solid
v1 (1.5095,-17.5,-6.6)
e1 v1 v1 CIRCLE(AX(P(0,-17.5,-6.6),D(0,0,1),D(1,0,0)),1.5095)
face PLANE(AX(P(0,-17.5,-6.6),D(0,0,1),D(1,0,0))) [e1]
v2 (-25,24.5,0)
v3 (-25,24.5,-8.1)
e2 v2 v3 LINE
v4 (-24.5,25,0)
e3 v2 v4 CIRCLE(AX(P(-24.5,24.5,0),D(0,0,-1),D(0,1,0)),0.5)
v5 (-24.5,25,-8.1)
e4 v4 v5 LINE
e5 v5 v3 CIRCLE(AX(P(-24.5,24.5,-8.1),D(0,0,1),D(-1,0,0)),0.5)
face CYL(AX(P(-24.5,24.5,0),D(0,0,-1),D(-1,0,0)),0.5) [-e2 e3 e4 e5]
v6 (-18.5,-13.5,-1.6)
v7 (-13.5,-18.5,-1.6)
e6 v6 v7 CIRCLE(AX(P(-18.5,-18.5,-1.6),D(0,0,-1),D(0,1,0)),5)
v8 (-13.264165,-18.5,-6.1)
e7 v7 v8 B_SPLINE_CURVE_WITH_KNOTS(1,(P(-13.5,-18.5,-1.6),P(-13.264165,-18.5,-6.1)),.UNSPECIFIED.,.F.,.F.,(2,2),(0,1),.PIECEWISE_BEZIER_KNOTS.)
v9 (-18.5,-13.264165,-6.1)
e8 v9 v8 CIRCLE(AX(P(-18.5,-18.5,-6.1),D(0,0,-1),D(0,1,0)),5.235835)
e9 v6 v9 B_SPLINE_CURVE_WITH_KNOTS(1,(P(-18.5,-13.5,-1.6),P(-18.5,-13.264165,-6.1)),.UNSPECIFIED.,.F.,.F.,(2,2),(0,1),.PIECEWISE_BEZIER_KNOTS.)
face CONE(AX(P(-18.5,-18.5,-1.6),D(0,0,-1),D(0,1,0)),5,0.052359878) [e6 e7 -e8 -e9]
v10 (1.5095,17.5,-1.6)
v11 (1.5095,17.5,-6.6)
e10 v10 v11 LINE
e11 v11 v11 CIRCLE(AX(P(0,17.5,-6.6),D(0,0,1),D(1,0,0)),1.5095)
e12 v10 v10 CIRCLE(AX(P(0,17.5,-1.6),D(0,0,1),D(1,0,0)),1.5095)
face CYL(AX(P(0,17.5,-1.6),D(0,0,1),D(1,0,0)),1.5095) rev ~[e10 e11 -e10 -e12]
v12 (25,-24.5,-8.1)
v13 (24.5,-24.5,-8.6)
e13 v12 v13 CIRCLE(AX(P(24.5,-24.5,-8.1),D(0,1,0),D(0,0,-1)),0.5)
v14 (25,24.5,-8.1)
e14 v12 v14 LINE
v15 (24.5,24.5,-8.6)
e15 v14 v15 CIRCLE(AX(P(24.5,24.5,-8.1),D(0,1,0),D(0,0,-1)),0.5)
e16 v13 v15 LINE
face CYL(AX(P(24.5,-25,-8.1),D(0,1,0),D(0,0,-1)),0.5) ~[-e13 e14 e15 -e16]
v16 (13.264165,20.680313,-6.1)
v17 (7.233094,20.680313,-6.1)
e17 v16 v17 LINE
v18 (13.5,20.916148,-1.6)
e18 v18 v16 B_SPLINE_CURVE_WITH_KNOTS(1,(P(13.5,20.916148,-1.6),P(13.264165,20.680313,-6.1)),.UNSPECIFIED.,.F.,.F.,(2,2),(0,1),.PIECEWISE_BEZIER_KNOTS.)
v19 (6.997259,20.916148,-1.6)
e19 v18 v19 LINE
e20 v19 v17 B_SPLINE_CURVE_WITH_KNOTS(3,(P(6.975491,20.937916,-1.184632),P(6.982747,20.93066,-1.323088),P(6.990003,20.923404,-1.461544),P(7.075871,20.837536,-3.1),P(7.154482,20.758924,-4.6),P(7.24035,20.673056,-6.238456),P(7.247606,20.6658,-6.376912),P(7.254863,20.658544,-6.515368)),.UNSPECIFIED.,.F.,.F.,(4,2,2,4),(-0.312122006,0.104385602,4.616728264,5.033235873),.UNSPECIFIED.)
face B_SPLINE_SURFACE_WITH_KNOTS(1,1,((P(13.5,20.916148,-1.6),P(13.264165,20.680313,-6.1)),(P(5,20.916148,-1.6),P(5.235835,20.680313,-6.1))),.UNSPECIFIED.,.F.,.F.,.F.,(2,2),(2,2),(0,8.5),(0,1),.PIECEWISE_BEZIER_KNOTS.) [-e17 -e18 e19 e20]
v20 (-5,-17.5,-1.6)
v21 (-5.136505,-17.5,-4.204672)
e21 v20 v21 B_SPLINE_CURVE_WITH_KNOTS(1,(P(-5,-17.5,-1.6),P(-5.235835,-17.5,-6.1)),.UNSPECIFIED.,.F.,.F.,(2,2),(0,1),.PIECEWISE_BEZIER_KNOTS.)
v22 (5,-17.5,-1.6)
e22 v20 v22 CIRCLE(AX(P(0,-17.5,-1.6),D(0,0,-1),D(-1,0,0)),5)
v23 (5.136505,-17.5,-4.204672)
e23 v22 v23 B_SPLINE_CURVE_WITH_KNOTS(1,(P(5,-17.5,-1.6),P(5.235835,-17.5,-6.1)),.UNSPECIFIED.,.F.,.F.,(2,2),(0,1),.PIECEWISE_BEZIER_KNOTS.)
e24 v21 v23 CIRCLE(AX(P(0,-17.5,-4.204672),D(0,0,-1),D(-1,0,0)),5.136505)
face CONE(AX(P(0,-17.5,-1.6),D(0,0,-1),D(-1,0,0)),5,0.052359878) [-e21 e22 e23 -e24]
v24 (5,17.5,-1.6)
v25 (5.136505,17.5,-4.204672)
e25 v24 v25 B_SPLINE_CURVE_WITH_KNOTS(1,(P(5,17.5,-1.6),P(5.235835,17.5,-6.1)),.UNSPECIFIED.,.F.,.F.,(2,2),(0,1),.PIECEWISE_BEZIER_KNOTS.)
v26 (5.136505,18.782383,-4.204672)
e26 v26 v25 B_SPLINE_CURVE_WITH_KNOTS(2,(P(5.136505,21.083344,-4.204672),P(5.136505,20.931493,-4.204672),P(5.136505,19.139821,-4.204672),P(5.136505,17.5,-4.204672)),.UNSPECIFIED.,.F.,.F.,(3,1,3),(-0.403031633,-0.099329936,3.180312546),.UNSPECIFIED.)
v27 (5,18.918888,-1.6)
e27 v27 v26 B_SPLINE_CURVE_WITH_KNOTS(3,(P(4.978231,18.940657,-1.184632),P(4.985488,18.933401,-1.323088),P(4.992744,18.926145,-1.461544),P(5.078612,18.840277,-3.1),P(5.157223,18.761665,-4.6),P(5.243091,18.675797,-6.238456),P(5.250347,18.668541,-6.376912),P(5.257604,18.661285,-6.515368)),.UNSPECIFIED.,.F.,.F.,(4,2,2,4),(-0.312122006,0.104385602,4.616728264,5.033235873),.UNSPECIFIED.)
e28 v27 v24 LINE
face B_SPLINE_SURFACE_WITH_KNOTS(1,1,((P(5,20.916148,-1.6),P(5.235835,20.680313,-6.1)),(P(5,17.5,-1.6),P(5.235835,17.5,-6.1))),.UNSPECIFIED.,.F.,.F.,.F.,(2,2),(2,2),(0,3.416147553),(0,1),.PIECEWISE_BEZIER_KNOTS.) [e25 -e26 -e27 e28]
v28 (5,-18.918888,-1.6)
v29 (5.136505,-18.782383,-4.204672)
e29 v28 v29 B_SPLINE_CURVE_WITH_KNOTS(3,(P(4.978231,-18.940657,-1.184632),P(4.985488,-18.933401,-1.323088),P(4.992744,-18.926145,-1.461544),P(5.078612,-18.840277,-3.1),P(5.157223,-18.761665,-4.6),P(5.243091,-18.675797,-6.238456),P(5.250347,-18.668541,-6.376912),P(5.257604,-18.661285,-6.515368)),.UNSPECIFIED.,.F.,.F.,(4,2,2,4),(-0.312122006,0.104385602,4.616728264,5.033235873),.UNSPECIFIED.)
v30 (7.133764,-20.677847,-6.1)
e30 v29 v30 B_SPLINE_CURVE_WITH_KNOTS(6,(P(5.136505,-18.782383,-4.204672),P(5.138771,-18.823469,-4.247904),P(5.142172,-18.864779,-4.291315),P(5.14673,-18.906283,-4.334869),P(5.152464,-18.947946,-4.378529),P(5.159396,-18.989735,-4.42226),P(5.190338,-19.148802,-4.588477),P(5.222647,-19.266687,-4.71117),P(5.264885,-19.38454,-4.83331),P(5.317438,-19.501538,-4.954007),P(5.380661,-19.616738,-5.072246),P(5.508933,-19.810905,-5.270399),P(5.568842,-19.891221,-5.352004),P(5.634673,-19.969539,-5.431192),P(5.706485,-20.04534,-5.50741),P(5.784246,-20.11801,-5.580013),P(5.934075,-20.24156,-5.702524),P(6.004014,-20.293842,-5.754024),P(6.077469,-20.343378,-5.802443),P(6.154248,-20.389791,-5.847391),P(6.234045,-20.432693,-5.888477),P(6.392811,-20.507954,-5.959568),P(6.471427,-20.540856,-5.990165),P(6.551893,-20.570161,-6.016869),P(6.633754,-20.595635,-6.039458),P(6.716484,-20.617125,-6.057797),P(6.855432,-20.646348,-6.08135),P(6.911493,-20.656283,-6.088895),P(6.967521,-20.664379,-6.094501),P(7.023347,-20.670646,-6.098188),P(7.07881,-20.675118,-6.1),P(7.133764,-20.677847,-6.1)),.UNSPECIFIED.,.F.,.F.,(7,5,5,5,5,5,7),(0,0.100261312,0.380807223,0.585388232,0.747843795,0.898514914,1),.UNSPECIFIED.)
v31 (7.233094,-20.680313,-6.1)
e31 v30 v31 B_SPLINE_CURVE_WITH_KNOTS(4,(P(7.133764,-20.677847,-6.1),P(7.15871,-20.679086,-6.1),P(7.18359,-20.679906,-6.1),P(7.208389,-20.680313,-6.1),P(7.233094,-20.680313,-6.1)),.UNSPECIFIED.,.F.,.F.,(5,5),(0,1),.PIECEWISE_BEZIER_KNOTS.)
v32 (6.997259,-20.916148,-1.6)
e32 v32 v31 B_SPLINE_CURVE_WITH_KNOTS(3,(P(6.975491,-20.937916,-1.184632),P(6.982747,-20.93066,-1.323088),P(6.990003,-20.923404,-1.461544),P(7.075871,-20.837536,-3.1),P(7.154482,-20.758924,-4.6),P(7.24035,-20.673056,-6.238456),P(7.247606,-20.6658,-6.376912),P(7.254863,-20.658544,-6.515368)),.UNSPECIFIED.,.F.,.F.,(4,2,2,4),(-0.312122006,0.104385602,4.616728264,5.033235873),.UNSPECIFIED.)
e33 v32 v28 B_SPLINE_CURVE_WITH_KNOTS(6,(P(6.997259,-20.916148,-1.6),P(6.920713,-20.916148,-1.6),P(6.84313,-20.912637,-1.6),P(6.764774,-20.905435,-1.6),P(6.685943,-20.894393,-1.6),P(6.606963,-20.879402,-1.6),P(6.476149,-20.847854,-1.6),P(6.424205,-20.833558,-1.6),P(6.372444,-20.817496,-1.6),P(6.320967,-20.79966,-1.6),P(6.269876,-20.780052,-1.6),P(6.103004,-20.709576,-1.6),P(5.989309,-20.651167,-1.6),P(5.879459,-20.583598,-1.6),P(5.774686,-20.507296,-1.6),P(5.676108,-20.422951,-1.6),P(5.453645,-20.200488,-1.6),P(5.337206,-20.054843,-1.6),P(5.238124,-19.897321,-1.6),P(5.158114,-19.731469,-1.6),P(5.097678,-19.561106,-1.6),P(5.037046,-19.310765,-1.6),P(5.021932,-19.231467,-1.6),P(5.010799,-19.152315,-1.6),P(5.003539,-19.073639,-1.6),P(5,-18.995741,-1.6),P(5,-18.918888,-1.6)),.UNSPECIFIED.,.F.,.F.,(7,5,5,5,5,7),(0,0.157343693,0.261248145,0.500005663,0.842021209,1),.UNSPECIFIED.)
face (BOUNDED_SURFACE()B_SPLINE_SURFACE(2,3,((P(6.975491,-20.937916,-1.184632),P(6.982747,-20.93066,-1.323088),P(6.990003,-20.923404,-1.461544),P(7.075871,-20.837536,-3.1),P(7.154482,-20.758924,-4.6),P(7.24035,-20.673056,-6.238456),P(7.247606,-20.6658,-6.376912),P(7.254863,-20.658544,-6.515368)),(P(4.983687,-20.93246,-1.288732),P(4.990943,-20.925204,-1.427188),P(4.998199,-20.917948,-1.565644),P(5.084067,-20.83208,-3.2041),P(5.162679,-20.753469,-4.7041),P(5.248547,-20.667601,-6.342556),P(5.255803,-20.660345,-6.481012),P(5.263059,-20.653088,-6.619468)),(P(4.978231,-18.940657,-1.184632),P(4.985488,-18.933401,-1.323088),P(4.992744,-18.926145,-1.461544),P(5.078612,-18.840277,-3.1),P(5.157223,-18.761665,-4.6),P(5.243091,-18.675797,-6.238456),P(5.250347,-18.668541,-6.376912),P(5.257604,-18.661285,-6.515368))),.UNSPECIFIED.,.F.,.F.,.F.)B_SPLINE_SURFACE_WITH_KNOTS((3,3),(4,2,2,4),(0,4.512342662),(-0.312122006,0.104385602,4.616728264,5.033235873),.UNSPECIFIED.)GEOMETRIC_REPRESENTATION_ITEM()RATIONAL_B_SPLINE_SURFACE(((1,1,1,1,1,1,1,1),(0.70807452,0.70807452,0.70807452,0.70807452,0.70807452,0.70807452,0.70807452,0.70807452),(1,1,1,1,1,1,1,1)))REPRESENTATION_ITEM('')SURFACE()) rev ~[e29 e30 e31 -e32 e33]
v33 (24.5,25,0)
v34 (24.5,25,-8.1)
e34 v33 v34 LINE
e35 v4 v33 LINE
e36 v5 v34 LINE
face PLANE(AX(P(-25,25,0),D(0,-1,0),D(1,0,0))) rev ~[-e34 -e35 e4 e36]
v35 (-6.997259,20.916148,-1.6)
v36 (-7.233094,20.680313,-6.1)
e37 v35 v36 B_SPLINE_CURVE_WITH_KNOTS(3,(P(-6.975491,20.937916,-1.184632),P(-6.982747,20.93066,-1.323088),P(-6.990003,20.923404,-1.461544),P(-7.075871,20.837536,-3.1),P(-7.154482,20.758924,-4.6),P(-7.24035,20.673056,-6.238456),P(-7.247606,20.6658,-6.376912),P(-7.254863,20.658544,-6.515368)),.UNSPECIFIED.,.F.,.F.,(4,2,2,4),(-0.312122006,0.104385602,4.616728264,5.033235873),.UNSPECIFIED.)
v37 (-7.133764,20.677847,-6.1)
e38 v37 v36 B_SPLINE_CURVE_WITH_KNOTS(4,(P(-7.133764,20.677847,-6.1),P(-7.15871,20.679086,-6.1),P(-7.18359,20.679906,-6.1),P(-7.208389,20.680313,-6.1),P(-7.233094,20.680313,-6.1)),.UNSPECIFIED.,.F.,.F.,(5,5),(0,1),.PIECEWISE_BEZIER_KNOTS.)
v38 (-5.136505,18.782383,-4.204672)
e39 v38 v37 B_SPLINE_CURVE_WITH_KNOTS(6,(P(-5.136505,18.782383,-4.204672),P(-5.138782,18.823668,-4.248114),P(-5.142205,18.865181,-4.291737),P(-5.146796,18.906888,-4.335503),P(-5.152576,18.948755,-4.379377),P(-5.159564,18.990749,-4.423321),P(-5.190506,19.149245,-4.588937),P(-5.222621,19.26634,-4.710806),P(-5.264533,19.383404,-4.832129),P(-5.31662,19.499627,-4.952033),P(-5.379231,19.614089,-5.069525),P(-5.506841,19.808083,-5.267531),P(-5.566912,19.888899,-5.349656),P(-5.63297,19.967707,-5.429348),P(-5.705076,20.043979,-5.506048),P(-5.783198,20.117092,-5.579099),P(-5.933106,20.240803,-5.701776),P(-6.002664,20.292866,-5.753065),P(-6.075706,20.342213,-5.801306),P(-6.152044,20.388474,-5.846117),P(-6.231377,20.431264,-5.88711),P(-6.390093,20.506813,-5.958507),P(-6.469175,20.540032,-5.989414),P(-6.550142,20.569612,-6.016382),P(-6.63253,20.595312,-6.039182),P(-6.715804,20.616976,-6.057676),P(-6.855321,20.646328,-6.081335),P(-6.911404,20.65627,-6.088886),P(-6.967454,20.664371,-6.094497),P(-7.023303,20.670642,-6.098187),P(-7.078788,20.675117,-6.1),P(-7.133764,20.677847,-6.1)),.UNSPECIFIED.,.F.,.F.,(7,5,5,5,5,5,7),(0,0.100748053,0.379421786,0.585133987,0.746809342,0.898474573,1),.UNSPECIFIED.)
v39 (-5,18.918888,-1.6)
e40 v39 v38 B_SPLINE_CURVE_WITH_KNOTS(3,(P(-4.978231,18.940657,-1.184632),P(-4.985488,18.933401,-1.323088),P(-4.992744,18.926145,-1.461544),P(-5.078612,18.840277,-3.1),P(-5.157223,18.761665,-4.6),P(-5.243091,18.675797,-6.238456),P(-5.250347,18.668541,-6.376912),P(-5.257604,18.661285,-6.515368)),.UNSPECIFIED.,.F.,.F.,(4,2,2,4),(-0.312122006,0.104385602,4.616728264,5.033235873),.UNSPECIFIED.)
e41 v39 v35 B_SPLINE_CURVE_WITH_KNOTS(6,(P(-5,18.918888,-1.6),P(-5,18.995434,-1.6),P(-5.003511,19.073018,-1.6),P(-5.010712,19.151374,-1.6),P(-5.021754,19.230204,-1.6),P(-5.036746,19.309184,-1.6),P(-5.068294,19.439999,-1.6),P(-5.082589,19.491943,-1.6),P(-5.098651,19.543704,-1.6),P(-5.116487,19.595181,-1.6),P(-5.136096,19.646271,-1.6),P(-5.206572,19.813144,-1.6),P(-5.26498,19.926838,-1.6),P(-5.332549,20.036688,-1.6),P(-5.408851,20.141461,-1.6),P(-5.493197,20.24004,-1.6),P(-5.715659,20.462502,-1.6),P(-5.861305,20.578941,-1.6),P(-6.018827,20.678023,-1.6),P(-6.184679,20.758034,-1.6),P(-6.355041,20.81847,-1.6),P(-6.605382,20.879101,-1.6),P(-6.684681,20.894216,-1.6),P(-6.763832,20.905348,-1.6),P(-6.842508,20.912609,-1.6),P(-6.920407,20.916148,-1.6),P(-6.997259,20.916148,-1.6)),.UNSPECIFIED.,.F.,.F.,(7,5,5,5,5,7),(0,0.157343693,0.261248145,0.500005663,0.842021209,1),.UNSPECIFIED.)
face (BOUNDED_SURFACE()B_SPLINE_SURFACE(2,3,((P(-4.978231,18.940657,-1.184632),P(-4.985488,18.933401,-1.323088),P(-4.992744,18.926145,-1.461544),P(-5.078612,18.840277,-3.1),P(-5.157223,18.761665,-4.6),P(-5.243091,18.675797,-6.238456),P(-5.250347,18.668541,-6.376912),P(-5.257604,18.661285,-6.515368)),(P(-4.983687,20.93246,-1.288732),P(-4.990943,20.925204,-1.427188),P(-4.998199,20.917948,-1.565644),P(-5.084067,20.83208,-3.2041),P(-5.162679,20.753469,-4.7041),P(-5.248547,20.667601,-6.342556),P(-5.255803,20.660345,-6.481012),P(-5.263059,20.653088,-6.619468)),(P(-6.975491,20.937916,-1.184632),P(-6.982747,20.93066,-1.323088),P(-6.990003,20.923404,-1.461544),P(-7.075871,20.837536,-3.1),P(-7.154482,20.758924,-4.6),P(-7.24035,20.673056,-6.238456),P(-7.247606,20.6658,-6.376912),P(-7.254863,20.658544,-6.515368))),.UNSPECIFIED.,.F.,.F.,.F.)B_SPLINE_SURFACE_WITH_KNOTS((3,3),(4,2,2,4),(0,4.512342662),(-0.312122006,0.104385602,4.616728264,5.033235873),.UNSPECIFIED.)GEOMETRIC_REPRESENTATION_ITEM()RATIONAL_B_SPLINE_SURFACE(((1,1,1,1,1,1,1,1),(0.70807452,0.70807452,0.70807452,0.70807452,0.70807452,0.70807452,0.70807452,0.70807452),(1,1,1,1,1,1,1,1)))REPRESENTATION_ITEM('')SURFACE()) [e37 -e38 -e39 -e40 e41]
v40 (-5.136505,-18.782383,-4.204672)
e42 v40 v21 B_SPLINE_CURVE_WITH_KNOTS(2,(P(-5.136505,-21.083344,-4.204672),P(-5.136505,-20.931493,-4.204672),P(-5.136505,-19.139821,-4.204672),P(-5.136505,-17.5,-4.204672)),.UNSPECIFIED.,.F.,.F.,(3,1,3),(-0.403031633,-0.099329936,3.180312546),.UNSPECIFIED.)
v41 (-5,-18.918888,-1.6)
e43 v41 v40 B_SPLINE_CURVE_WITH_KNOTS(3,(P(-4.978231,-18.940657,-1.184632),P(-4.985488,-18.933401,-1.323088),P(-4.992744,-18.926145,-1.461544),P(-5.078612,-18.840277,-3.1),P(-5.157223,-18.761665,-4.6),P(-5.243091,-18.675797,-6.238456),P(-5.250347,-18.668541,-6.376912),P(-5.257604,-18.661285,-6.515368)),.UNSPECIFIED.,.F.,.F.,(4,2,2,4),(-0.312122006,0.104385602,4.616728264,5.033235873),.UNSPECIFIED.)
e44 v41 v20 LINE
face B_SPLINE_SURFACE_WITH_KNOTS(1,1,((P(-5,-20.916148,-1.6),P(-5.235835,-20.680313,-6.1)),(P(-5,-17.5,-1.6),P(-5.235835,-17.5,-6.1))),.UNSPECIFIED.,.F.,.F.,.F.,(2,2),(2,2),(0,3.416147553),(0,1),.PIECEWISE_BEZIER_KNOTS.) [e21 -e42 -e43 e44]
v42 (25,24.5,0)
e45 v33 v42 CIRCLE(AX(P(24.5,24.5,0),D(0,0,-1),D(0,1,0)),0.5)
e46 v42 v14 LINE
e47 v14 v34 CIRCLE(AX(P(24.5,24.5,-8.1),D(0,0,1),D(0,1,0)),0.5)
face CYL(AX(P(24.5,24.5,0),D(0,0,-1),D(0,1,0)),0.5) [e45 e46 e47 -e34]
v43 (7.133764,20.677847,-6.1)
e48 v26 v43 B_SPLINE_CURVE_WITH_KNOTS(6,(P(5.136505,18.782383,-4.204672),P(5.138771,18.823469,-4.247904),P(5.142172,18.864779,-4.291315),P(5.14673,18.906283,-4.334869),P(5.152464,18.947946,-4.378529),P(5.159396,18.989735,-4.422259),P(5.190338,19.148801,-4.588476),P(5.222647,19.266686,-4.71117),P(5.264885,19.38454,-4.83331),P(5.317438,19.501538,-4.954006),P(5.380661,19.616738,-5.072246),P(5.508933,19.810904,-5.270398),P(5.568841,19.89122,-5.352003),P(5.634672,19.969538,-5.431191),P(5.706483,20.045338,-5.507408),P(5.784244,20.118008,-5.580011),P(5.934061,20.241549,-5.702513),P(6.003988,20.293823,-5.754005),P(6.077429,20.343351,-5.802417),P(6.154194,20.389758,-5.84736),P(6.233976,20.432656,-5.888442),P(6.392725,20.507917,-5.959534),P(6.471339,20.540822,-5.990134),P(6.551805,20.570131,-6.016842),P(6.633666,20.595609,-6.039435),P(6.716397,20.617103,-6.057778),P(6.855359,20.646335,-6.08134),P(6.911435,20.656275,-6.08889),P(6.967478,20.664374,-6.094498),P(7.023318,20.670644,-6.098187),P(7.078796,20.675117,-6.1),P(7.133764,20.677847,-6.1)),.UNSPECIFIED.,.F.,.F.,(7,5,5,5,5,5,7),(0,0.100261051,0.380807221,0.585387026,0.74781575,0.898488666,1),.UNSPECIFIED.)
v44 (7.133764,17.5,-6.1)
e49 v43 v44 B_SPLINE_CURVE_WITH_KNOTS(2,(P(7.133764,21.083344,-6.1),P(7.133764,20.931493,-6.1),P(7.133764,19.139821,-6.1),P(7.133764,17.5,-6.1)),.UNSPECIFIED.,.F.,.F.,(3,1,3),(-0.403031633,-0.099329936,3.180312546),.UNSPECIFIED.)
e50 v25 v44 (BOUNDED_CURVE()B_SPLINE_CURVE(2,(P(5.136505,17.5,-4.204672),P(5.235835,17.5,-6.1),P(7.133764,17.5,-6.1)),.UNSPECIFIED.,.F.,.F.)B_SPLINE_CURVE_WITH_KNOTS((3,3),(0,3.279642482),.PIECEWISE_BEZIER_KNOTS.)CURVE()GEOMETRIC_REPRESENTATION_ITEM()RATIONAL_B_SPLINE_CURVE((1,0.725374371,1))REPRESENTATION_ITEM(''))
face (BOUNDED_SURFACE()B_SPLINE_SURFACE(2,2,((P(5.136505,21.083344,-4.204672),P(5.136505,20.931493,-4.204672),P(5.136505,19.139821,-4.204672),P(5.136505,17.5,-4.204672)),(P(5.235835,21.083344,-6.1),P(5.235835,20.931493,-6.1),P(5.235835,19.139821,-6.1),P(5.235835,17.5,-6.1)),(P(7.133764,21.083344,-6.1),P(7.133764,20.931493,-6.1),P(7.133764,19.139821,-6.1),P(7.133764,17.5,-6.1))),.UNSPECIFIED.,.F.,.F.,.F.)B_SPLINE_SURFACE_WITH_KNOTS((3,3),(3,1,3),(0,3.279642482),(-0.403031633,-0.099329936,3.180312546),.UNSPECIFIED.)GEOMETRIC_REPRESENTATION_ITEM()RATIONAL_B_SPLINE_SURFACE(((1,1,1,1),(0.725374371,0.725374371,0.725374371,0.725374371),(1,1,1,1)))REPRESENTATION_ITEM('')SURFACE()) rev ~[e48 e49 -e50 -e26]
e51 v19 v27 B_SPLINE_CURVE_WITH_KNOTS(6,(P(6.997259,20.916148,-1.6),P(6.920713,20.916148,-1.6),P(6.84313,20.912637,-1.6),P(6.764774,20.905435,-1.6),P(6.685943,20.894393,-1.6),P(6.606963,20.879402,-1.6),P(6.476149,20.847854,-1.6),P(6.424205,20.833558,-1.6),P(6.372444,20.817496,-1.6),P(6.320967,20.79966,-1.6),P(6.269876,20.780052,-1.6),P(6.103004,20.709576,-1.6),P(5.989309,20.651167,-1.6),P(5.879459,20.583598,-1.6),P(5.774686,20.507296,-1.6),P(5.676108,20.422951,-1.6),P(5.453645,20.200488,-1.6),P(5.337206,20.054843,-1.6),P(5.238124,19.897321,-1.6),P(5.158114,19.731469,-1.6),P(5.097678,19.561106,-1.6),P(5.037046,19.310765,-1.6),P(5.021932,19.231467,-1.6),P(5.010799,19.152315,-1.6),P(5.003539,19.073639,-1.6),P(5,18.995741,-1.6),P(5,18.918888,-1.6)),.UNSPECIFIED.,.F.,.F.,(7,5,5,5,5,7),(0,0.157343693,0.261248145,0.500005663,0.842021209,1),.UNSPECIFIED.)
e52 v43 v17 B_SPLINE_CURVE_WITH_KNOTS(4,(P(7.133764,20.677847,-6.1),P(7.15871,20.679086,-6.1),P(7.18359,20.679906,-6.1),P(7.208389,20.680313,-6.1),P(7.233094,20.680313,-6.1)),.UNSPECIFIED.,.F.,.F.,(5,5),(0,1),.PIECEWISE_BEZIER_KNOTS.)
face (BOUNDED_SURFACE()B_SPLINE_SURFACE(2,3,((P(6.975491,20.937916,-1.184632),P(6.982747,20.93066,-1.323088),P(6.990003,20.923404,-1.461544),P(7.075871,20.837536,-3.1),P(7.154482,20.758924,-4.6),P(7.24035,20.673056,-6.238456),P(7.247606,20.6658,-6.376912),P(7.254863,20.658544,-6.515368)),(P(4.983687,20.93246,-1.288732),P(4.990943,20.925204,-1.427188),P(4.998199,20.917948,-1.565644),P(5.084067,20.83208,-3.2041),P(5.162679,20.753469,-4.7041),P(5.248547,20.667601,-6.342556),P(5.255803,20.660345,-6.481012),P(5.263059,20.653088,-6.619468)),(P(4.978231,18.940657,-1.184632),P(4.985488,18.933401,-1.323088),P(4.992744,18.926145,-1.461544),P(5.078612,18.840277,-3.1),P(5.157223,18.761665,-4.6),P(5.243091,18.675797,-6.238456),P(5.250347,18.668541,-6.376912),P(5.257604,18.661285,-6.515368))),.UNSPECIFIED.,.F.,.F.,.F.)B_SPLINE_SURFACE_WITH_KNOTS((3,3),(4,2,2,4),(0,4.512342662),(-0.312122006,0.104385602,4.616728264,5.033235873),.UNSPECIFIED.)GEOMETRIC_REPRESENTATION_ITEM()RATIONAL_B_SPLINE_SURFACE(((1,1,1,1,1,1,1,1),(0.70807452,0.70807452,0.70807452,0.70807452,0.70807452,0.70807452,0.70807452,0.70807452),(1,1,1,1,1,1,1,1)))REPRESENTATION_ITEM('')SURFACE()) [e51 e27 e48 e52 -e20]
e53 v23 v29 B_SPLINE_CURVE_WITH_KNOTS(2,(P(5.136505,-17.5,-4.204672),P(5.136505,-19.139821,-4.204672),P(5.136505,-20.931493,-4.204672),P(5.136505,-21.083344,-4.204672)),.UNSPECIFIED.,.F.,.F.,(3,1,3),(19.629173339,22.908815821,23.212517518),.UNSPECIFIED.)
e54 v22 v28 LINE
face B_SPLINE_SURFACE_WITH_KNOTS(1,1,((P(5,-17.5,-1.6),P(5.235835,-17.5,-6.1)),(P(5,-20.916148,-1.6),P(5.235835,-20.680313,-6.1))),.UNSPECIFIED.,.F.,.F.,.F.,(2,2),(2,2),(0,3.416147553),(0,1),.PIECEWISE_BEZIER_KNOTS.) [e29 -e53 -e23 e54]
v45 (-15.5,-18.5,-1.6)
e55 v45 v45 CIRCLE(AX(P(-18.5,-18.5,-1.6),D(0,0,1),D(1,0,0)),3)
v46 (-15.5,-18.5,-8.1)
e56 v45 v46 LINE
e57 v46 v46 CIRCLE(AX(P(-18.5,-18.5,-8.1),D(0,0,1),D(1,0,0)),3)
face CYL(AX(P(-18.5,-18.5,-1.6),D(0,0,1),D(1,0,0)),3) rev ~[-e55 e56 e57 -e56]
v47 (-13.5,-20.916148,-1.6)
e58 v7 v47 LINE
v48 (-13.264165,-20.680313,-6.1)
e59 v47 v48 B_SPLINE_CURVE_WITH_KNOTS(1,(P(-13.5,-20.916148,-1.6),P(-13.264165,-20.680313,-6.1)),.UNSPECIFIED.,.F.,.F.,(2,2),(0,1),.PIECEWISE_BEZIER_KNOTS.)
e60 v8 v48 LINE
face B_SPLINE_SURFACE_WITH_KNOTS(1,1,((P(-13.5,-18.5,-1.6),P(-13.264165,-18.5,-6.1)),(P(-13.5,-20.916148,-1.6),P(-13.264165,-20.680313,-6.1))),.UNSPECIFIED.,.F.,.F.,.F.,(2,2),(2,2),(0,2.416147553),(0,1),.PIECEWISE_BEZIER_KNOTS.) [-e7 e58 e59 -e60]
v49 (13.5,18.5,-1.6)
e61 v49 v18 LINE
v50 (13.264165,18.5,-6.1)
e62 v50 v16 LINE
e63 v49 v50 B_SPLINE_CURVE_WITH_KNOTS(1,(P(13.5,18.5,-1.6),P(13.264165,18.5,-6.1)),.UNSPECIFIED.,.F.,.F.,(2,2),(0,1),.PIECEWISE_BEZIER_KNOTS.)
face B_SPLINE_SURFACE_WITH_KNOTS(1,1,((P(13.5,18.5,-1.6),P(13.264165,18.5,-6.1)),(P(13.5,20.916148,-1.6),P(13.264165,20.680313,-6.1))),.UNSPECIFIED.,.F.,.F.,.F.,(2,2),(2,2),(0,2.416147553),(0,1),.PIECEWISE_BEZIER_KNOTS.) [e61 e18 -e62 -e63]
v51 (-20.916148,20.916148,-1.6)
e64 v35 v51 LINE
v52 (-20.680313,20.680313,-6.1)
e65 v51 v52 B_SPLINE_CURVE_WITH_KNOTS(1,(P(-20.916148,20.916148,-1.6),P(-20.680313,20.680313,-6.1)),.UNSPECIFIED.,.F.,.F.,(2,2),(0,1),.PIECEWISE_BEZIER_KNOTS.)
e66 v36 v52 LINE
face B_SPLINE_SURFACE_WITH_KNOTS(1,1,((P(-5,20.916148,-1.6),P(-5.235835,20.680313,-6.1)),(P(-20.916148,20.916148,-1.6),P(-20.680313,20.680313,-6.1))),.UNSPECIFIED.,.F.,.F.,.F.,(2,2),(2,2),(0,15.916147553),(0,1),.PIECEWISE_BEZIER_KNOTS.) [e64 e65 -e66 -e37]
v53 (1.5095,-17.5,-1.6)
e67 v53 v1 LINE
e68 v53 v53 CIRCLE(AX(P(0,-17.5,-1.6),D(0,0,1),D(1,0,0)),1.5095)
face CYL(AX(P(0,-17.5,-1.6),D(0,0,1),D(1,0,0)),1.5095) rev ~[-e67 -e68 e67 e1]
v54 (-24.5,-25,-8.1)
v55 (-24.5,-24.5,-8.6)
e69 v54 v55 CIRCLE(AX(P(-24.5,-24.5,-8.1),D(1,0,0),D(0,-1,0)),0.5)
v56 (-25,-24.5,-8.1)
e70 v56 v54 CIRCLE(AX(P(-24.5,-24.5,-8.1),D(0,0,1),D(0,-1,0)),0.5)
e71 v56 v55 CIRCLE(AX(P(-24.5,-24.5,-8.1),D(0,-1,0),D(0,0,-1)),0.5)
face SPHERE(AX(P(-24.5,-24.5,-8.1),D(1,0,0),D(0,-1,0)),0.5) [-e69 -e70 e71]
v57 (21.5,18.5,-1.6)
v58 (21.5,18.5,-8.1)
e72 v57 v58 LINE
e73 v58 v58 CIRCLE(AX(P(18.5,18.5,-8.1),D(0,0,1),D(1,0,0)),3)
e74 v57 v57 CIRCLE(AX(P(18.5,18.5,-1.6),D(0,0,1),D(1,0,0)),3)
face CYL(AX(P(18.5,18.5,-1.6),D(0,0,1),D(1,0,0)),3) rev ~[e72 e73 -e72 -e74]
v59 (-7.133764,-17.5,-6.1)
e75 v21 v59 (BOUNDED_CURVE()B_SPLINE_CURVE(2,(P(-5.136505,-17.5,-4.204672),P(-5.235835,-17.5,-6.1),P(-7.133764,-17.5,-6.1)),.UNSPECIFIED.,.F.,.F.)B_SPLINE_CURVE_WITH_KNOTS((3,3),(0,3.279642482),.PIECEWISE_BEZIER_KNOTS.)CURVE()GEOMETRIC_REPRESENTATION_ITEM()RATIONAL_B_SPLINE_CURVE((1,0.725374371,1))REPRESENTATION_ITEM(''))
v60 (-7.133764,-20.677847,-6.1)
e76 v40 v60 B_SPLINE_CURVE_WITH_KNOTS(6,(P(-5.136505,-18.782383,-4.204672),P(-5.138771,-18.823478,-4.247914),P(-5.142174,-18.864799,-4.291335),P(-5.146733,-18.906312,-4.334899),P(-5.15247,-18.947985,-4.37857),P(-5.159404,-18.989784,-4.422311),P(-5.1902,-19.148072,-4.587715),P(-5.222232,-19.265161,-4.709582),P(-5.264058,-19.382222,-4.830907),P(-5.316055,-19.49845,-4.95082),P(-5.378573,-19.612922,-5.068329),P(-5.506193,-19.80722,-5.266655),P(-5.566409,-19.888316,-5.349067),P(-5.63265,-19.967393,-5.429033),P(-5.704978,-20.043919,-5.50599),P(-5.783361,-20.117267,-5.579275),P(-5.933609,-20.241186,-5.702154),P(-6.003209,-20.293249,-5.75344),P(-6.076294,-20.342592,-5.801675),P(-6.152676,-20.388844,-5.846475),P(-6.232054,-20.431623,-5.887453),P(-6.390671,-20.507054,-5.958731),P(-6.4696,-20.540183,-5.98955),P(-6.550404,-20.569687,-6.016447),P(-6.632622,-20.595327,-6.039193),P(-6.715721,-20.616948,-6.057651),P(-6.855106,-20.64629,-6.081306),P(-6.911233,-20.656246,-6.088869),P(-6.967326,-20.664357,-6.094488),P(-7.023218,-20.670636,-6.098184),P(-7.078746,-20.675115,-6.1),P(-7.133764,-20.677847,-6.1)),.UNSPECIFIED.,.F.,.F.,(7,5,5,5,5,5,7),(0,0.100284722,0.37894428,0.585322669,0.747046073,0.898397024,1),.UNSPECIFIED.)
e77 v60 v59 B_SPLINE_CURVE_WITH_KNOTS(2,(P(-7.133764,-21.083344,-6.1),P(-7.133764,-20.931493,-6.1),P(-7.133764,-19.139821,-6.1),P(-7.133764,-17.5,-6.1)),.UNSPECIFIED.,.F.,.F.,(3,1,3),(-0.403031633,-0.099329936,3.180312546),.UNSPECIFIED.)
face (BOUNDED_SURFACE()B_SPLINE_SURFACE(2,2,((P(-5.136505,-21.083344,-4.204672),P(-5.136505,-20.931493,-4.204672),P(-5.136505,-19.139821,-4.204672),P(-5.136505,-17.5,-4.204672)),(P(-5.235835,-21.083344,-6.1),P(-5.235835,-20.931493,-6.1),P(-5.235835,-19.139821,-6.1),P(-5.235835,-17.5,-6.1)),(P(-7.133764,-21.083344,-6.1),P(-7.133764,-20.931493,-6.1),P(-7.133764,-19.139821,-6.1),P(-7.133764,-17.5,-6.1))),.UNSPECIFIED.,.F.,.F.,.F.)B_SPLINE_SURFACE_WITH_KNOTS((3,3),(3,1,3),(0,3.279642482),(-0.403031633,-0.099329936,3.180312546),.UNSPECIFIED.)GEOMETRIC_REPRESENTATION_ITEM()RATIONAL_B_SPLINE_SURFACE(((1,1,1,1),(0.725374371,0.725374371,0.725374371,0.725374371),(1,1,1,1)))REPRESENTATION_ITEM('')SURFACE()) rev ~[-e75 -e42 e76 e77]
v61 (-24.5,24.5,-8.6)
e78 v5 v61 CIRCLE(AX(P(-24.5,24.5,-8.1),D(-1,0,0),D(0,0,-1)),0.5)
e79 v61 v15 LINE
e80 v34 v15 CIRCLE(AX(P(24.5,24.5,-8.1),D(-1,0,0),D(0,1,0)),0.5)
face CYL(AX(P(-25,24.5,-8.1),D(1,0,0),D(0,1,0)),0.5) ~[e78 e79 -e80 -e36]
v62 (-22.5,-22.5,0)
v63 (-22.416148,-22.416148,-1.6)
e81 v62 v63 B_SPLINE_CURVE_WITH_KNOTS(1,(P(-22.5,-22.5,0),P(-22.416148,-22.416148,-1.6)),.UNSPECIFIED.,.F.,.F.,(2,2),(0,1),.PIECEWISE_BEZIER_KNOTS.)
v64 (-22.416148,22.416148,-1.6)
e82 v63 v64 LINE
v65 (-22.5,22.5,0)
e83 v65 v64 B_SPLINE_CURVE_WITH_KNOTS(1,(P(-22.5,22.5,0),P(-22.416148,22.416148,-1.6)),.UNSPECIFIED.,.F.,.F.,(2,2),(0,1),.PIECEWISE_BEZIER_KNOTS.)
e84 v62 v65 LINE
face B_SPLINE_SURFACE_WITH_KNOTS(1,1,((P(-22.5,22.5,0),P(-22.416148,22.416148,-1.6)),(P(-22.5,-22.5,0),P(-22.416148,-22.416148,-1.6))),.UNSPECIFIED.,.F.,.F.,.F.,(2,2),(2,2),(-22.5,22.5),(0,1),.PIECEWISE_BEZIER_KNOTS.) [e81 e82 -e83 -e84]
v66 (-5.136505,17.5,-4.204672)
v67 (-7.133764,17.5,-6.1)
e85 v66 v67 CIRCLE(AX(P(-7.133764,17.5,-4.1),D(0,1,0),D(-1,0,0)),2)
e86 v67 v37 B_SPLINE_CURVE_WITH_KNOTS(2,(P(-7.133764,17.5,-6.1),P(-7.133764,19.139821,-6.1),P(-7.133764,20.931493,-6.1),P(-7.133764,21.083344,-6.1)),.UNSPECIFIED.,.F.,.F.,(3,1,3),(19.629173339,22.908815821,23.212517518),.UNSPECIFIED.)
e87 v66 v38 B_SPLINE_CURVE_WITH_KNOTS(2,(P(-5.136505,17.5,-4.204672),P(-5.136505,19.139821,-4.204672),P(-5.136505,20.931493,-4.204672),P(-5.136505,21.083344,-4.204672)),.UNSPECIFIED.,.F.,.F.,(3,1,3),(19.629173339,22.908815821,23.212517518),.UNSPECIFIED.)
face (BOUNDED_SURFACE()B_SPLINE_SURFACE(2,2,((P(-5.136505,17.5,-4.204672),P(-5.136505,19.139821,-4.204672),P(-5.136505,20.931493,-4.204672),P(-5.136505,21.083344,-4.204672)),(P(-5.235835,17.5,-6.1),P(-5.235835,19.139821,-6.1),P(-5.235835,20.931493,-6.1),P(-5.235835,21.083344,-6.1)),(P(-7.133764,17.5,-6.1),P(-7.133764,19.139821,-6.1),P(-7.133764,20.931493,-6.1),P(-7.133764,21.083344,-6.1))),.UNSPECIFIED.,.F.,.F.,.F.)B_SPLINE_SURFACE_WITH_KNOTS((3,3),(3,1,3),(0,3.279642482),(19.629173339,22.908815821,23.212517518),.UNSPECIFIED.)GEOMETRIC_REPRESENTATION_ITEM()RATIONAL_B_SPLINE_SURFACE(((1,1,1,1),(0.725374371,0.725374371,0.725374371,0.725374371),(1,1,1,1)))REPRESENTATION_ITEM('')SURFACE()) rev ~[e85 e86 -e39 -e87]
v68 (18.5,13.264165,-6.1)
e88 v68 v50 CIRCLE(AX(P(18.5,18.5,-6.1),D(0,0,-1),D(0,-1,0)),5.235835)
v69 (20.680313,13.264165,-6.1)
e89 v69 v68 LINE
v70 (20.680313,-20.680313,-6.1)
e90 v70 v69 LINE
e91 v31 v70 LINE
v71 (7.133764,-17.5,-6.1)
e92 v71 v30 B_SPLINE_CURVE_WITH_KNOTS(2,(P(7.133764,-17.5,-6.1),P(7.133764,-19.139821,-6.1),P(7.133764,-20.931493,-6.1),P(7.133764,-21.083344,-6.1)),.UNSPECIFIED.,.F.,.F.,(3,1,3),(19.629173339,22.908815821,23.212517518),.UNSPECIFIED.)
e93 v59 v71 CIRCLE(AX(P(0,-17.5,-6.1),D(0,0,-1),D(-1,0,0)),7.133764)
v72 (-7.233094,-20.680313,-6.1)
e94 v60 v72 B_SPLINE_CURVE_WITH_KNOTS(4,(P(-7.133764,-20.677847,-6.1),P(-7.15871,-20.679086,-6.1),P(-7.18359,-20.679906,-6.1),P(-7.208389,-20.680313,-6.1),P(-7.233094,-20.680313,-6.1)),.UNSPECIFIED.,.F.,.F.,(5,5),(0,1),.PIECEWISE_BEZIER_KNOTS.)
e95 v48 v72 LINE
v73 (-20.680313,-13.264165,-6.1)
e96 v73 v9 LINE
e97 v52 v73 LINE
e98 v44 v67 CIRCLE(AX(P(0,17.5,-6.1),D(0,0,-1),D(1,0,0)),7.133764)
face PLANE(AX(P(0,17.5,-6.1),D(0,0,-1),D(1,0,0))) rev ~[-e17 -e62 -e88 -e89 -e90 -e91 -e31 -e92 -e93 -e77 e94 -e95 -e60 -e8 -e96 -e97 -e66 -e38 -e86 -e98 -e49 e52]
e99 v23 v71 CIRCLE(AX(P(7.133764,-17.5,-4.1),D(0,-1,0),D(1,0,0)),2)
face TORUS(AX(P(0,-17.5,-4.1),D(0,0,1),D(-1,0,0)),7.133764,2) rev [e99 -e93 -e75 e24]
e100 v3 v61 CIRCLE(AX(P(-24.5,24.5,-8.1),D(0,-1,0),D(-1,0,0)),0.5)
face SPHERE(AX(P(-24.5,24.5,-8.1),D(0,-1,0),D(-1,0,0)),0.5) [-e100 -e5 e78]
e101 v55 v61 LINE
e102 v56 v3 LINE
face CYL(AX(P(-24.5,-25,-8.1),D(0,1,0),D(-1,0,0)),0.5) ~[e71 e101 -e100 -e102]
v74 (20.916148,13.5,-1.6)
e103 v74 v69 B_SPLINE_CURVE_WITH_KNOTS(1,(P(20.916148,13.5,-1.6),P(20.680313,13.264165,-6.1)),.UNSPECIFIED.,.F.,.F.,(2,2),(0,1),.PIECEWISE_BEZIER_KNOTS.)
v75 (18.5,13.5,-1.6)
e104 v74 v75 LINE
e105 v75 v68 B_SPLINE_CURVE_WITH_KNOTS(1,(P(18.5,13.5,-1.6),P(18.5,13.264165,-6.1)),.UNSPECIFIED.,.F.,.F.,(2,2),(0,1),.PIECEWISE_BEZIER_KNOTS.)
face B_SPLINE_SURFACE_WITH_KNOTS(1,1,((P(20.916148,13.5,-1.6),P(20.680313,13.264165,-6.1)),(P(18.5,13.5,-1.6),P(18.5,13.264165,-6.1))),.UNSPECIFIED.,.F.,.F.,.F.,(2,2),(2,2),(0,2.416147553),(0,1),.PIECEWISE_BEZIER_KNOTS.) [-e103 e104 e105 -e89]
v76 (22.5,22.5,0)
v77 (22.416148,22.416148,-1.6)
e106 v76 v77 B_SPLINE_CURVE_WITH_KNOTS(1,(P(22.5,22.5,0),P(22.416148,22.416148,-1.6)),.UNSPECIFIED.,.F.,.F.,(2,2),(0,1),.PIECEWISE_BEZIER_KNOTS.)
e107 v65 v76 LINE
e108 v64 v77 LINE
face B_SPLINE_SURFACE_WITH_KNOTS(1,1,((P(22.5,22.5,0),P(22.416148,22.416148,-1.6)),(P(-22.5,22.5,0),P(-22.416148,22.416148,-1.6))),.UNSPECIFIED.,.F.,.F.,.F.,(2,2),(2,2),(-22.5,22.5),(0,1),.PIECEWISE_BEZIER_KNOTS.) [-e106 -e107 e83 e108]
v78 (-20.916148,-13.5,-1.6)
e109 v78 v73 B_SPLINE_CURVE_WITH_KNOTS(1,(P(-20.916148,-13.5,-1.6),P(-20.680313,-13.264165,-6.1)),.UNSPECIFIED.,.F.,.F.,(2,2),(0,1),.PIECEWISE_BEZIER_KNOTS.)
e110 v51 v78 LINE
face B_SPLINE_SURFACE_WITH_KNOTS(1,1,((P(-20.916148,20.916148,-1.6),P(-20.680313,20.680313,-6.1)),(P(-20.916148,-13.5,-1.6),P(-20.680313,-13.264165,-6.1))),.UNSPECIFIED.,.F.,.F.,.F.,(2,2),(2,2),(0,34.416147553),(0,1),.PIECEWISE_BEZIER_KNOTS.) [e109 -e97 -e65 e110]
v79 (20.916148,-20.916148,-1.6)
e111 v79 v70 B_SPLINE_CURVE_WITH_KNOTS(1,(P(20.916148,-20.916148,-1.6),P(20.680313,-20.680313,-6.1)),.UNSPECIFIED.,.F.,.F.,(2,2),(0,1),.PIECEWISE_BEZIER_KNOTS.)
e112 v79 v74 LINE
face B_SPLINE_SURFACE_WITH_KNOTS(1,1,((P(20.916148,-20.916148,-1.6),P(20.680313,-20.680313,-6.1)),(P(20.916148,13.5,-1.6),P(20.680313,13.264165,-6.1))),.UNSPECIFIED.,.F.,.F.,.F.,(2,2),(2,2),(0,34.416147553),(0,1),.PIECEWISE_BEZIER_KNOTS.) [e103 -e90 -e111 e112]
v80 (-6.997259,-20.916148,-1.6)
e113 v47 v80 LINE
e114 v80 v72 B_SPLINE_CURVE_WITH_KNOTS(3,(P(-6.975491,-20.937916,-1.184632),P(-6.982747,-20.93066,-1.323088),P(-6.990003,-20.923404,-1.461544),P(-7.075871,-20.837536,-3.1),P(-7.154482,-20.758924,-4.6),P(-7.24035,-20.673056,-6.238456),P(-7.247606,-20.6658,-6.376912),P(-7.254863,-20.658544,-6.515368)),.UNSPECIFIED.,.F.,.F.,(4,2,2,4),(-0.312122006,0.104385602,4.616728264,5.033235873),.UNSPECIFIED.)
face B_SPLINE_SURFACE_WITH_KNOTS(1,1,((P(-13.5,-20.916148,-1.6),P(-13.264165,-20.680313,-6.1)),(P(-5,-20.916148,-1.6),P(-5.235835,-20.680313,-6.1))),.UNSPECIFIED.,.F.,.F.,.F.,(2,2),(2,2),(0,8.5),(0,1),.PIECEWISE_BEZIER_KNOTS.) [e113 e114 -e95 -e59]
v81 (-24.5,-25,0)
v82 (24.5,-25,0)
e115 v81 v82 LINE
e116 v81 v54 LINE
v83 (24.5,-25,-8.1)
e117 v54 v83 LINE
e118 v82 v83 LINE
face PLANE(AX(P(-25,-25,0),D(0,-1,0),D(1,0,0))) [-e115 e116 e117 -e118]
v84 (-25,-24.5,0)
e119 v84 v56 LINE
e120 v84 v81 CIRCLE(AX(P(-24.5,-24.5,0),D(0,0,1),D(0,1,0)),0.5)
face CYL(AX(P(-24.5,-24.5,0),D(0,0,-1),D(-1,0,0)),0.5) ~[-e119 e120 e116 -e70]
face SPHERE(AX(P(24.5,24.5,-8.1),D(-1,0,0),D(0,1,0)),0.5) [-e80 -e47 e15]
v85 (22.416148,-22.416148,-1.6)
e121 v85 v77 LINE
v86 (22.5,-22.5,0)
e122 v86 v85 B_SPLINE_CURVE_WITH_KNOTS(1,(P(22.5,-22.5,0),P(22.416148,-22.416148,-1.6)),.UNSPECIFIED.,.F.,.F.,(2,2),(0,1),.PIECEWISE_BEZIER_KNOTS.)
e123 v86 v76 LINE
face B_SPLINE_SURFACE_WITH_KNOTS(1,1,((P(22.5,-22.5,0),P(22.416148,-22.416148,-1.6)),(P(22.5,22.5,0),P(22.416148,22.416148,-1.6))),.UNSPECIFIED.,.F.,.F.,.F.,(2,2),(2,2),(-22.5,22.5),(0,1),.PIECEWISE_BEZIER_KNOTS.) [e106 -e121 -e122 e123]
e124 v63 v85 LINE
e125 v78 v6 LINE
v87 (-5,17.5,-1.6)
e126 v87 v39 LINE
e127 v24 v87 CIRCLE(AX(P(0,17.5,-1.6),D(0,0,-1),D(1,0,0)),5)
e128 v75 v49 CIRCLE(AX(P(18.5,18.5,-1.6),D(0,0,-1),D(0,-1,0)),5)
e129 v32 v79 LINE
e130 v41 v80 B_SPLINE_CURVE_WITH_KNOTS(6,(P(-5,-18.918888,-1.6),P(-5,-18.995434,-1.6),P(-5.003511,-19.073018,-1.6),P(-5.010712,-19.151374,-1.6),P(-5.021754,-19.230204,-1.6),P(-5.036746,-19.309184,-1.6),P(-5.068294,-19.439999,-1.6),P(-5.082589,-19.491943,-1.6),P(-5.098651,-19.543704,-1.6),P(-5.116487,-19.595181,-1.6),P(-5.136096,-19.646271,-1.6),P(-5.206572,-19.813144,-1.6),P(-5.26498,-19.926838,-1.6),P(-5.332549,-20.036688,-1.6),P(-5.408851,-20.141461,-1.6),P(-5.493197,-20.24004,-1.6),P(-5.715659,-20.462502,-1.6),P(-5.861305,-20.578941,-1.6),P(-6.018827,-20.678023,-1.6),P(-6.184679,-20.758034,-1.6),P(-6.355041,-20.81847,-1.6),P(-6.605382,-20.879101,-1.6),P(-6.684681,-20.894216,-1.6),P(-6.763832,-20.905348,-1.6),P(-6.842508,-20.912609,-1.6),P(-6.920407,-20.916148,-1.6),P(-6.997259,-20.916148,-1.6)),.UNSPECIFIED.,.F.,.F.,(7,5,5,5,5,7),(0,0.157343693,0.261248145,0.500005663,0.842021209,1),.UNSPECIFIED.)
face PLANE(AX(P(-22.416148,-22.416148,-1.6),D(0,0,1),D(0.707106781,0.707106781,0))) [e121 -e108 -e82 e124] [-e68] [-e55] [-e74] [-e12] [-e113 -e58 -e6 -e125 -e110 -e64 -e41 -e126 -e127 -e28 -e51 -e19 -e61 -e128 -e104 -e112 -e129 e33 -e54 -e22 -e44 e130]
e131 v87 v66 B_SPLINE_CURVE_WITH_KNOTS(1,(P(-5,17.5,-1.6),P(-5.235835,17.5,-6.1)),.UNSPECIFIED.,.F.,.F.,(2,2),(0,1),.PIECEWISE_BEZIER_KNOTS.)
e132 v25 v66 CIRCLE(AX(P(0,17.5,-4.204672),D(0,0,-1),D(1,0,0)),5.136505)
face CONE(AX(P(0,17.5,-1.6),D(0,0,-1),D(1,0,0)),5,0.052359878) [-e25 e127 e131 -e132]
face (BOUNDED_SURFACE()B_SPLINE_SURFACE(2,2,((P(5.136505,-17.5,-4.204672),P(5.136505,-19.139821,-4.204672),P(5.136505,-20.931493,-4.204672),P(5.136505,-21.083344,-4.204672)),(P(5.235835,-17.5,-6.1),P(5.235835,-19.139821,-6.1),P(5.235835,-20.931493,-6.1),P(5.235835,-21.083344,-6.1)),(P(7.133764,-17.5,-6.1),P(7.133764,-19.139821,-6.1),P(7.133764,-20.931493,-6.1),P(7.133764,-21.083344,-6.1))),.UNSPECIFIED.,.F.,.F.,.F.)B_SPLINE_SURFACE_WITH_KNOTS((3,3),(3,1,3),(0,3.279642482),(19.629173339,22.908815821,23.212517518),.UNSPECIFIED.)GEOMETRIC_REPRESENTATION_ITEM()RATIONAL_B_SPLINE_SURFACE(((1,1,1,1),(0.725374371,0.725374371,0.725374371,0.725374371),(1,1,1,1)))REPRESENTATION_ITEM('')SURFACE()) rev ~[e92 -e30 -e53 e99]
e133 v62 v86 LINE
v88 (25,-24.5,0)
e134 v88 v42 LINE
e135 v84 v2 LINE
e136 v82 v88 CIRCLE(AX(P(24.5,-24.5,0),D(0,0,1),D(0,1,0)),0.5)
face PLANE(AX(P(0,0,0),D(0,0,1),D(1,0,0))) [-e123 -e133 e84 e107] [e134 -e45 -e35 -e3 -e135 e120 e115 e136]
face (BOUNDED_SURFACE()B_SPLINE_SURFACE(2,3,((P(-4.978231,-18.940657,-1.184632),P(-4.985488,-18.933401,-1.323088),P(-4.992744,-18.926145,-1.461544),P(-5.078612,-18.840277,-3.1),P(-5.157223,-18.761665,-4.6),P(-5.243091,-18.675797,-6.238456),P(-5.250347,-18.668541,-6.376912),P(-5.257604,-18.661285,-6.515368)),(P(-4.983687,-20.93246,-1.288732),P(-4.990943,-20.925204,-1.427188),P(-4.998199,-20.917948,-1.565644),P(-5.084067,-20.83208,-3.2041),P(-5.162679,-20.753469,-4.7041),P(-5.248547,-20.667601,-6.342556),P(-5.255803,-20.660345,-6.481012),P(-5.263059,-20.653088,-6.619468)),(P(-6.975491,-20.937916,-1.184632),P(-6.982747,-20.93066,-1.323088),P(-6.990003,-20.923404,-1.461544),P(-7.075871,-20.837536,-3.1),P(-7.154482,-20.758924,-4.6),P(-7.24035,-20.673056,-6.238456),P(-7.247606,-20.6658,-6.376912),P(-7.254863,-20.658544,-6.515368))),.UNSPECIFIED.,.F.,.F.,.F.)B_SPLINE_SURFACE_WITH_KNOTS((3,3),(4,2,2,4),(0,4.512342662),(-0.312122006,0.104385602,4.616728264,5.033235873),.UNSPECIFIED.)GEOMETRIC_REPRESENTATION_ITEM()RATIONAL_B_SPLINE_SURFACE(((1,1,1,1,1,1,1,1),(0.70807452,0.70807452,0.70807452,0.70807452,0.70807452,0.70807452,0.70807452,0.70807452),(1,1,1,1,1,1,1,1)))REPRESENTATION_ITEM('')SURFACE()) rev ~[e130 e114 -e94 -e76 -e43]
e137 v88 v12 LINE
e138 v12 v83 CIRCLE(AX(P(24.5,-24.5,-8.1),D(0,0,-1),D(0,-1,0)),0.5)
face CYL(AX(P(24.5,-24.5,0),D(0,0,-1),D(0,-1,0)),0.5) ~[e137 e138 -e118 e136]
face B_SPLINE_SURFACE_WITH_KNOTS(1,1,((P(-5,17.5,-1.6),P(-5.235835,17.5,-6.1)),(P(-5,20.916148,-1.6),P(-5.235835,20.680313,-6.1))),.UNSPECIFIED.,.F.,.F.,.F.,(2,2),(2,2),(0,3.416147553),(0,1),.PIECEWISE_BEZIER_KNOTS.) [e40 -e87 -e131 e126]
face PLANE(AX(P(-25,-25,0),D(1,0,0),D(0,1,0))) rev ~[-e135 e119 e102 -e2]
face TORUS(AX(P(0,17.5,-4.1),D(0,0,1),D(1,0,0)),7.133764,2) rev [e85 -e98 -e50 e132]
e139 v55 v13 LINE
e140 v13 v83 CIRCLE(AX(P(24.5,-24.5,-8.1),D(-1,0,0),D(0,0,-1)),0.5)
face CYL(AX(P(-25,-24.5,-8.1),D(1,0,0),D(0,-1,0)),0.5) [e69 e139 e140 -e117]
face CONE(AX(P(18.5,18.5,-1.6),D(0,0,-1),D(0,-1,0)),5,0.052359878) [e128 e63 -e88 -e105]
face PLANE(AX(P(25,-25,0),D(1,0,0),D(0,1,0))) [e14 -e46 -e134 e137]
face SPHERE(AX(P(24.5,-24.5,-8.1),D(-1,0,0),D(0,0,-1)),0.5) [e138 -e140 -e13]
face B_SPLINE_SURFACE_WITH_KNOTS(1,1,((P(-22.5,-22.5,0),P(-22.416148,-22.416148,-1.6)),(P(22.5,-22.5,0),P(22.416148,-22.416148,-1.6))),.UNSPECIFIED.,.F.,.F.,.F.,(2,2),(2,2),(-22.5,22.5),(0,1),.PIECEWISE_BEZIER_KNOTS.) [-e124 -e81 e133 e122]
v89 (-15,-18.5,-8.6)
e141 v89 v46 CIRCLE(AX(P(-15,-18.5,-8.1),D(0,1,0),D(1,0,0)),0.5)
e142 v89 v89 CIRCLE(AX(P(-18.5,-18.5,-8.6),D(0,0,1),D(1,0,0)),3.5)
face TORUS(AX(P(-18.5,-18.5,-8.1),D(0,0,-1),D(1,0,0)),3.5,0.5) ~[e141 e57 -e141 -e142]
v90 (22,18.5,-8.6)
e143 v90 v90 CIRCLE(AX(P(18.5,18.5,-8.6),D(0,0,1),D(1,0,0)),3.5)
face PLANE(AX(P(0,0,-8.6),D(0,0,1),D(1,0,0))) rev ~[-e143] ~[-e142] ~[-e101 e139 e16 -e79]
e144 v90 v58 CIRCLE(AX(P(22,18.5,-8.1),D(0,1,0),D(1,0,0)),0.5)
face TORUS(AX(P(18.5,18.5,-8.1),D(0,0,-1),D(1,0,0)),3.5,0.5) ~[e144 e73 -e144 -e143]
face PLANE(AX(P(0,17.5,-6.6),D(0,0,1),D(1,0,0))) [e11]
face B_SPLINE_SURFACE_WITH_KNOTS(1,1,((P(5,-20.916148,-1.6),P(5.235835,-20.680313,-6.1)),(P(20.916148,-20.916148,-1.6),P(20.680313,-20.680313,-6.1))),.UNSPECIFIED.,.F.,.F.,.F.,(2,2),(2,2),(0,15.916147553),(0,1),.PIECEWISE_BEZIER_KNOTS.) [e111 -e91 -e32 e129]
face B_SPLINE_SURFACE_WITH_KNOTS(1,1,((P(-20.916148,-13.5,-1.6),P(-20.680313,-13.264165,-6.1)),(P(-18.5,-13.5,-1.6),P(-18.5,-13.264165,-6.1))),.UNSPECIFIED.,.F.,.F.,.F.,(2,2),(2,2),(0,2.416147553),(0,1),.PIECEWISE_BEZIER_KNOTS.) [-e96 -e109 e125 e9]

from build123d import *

# Parameters (mm, degrees)
F0_W      = 50
F0_H      = 50
F1_DEPTH  = 8.6
F2_W      = 45
F2_H      = 45
F3_DEPTH  = 1.6
F3_TAPER  = 3
F5_DEPTH  = 4.5
F5_TAPER  = 3
F6_R      = 3
F7_DEPTH  = 7
F8_R      = 0.5
F9_R      = 1.5095
F10_DEPTH = 5
F11_R     = 2


with BuildPart() as f1:
    # F0 (on Top) → F1 (new body)
    with BuildSketch(Plane.XY):
        Rectangle(F0_W, F0_H)
    extrude(amount=-F1_DEPTH)

    # F2 (on face) → F3 (cut)
    with BuildSketch(Plane.XY):
        Rectangle(F2_W, F2_H)
    extrude(amount=-F3_DEPTH, taper=F3_TAPER, mode=Mode.SUBTRACT)

    # F4 (on face) → F5 (cut)
    with BuildSketch(Plane.XY.offset(-1.6)):
        with BuildLine():
            Line((13.5, 18.5), (13.5, 20.9161475531))
            Line((13.5, 20.9161475531), (5, 20.9161475531))
            Line((5, 20.9161475531), (5, 17.5))
            ThreePointArc((5, 17.5), (0, 12.5), (-5, 17.5))
            Line((-5, 17.5), (-5, 20.9161475531))
            Line((-5, 20.9161475531), (-20.9161475531, 20.9161475531))
            Line((-20.9161475531, 20.9161475531), (-20.9161475531, -13.5))
            Line((-20.9161475531, -13.5), (-18.5, -13.5))
            ThreePointArc((-18.5, -13.5), (-14.9644660941, -14.9644660941), (-13.5, -18.5))
            Line((-13.5, -18.5), (-13.5, -20.9161475531))
            Line((-13.5, -20.9161475531), (-5, -20.9161475531))
            Line((-5, -20.9161475531), (-5, -17.5))
            ThreePointArc((-5, -17.5), (0, -12.5), (5, -17.5))
            Line((5, -17.5), (5, -20.9161475531))
            Line((5, -20.9161475531), (20.9161475531, -20.9161475531))
            Line((20.9161475531, -20.9161475531), (20.9161475531, 13.5))
            Line((20.9161475531, 13.5), (18.5, 13.5))
            ThreePointArc((18.5, 13.5), (14.9644660941, 14.9644660941), (13.5, 18.5))
        make_face()
    extrude(amount=-F5_DEPTH, taper=F5_TAPER, mode=Mode.SUBTRACT)

    # F6 (on face) → F7 (cut, through all)
    with BuildSketch(Plane.XY.offset(-1.6)):
        with Locations((18.5, 18.5)):
            Circle(F6_R)
        with Locations((-18.5, -18.5)):
            Circle(F6_R)
    extrude(amount=-F7_DEPTH, mode=Mode.SUBTRACT)

    # F8
    f8_edges = [f1.edges().sort_by_distance(p)[0] for p in [
        (0, -25, -8.6),
        (-25, -25, -4.3),
        (-25, 0, -8.6),
        (-21.5, -18.5, -8.6),
        (15.5, 18.5, -8.6),
        (-25, 25, -4.3),
        (0, 25, -8.6),
        (25, 25, -4.3),
        (25, 0, -8.6),
        (25, -25, -4.3),
    ]]
    fillet(f8_edges, radius=F8_R)

    # F9 (on face) → F10 (cut)
    with BuildSketch(Plane.XY.offset(-1.6)):
        with Locations((0, 17.5)):
            Circle(F9_R)
        with Locations((0, -17.5)):
            Circle(F9_R)
    extrude(amount=-F10_DEPTH, mode=Mode.SUBTRACT)

    # F11
    f11_edges = [f1.edges().sort_by_distance(p)[0] for p in [
        (5.117918, 20.79823, -3.85),
        (0, 12.264165, -6.1),
        (-5.117918, 20.79823, -3.85),
        (-5.117918, -20.79823, -3.85),
        (-5.235835, -19.090156, -6.1),
        (5.117918, -20.79823, -3.85),
    ]]
    fillet(f11_edges, radius=F11_R)


solid = f1.part
